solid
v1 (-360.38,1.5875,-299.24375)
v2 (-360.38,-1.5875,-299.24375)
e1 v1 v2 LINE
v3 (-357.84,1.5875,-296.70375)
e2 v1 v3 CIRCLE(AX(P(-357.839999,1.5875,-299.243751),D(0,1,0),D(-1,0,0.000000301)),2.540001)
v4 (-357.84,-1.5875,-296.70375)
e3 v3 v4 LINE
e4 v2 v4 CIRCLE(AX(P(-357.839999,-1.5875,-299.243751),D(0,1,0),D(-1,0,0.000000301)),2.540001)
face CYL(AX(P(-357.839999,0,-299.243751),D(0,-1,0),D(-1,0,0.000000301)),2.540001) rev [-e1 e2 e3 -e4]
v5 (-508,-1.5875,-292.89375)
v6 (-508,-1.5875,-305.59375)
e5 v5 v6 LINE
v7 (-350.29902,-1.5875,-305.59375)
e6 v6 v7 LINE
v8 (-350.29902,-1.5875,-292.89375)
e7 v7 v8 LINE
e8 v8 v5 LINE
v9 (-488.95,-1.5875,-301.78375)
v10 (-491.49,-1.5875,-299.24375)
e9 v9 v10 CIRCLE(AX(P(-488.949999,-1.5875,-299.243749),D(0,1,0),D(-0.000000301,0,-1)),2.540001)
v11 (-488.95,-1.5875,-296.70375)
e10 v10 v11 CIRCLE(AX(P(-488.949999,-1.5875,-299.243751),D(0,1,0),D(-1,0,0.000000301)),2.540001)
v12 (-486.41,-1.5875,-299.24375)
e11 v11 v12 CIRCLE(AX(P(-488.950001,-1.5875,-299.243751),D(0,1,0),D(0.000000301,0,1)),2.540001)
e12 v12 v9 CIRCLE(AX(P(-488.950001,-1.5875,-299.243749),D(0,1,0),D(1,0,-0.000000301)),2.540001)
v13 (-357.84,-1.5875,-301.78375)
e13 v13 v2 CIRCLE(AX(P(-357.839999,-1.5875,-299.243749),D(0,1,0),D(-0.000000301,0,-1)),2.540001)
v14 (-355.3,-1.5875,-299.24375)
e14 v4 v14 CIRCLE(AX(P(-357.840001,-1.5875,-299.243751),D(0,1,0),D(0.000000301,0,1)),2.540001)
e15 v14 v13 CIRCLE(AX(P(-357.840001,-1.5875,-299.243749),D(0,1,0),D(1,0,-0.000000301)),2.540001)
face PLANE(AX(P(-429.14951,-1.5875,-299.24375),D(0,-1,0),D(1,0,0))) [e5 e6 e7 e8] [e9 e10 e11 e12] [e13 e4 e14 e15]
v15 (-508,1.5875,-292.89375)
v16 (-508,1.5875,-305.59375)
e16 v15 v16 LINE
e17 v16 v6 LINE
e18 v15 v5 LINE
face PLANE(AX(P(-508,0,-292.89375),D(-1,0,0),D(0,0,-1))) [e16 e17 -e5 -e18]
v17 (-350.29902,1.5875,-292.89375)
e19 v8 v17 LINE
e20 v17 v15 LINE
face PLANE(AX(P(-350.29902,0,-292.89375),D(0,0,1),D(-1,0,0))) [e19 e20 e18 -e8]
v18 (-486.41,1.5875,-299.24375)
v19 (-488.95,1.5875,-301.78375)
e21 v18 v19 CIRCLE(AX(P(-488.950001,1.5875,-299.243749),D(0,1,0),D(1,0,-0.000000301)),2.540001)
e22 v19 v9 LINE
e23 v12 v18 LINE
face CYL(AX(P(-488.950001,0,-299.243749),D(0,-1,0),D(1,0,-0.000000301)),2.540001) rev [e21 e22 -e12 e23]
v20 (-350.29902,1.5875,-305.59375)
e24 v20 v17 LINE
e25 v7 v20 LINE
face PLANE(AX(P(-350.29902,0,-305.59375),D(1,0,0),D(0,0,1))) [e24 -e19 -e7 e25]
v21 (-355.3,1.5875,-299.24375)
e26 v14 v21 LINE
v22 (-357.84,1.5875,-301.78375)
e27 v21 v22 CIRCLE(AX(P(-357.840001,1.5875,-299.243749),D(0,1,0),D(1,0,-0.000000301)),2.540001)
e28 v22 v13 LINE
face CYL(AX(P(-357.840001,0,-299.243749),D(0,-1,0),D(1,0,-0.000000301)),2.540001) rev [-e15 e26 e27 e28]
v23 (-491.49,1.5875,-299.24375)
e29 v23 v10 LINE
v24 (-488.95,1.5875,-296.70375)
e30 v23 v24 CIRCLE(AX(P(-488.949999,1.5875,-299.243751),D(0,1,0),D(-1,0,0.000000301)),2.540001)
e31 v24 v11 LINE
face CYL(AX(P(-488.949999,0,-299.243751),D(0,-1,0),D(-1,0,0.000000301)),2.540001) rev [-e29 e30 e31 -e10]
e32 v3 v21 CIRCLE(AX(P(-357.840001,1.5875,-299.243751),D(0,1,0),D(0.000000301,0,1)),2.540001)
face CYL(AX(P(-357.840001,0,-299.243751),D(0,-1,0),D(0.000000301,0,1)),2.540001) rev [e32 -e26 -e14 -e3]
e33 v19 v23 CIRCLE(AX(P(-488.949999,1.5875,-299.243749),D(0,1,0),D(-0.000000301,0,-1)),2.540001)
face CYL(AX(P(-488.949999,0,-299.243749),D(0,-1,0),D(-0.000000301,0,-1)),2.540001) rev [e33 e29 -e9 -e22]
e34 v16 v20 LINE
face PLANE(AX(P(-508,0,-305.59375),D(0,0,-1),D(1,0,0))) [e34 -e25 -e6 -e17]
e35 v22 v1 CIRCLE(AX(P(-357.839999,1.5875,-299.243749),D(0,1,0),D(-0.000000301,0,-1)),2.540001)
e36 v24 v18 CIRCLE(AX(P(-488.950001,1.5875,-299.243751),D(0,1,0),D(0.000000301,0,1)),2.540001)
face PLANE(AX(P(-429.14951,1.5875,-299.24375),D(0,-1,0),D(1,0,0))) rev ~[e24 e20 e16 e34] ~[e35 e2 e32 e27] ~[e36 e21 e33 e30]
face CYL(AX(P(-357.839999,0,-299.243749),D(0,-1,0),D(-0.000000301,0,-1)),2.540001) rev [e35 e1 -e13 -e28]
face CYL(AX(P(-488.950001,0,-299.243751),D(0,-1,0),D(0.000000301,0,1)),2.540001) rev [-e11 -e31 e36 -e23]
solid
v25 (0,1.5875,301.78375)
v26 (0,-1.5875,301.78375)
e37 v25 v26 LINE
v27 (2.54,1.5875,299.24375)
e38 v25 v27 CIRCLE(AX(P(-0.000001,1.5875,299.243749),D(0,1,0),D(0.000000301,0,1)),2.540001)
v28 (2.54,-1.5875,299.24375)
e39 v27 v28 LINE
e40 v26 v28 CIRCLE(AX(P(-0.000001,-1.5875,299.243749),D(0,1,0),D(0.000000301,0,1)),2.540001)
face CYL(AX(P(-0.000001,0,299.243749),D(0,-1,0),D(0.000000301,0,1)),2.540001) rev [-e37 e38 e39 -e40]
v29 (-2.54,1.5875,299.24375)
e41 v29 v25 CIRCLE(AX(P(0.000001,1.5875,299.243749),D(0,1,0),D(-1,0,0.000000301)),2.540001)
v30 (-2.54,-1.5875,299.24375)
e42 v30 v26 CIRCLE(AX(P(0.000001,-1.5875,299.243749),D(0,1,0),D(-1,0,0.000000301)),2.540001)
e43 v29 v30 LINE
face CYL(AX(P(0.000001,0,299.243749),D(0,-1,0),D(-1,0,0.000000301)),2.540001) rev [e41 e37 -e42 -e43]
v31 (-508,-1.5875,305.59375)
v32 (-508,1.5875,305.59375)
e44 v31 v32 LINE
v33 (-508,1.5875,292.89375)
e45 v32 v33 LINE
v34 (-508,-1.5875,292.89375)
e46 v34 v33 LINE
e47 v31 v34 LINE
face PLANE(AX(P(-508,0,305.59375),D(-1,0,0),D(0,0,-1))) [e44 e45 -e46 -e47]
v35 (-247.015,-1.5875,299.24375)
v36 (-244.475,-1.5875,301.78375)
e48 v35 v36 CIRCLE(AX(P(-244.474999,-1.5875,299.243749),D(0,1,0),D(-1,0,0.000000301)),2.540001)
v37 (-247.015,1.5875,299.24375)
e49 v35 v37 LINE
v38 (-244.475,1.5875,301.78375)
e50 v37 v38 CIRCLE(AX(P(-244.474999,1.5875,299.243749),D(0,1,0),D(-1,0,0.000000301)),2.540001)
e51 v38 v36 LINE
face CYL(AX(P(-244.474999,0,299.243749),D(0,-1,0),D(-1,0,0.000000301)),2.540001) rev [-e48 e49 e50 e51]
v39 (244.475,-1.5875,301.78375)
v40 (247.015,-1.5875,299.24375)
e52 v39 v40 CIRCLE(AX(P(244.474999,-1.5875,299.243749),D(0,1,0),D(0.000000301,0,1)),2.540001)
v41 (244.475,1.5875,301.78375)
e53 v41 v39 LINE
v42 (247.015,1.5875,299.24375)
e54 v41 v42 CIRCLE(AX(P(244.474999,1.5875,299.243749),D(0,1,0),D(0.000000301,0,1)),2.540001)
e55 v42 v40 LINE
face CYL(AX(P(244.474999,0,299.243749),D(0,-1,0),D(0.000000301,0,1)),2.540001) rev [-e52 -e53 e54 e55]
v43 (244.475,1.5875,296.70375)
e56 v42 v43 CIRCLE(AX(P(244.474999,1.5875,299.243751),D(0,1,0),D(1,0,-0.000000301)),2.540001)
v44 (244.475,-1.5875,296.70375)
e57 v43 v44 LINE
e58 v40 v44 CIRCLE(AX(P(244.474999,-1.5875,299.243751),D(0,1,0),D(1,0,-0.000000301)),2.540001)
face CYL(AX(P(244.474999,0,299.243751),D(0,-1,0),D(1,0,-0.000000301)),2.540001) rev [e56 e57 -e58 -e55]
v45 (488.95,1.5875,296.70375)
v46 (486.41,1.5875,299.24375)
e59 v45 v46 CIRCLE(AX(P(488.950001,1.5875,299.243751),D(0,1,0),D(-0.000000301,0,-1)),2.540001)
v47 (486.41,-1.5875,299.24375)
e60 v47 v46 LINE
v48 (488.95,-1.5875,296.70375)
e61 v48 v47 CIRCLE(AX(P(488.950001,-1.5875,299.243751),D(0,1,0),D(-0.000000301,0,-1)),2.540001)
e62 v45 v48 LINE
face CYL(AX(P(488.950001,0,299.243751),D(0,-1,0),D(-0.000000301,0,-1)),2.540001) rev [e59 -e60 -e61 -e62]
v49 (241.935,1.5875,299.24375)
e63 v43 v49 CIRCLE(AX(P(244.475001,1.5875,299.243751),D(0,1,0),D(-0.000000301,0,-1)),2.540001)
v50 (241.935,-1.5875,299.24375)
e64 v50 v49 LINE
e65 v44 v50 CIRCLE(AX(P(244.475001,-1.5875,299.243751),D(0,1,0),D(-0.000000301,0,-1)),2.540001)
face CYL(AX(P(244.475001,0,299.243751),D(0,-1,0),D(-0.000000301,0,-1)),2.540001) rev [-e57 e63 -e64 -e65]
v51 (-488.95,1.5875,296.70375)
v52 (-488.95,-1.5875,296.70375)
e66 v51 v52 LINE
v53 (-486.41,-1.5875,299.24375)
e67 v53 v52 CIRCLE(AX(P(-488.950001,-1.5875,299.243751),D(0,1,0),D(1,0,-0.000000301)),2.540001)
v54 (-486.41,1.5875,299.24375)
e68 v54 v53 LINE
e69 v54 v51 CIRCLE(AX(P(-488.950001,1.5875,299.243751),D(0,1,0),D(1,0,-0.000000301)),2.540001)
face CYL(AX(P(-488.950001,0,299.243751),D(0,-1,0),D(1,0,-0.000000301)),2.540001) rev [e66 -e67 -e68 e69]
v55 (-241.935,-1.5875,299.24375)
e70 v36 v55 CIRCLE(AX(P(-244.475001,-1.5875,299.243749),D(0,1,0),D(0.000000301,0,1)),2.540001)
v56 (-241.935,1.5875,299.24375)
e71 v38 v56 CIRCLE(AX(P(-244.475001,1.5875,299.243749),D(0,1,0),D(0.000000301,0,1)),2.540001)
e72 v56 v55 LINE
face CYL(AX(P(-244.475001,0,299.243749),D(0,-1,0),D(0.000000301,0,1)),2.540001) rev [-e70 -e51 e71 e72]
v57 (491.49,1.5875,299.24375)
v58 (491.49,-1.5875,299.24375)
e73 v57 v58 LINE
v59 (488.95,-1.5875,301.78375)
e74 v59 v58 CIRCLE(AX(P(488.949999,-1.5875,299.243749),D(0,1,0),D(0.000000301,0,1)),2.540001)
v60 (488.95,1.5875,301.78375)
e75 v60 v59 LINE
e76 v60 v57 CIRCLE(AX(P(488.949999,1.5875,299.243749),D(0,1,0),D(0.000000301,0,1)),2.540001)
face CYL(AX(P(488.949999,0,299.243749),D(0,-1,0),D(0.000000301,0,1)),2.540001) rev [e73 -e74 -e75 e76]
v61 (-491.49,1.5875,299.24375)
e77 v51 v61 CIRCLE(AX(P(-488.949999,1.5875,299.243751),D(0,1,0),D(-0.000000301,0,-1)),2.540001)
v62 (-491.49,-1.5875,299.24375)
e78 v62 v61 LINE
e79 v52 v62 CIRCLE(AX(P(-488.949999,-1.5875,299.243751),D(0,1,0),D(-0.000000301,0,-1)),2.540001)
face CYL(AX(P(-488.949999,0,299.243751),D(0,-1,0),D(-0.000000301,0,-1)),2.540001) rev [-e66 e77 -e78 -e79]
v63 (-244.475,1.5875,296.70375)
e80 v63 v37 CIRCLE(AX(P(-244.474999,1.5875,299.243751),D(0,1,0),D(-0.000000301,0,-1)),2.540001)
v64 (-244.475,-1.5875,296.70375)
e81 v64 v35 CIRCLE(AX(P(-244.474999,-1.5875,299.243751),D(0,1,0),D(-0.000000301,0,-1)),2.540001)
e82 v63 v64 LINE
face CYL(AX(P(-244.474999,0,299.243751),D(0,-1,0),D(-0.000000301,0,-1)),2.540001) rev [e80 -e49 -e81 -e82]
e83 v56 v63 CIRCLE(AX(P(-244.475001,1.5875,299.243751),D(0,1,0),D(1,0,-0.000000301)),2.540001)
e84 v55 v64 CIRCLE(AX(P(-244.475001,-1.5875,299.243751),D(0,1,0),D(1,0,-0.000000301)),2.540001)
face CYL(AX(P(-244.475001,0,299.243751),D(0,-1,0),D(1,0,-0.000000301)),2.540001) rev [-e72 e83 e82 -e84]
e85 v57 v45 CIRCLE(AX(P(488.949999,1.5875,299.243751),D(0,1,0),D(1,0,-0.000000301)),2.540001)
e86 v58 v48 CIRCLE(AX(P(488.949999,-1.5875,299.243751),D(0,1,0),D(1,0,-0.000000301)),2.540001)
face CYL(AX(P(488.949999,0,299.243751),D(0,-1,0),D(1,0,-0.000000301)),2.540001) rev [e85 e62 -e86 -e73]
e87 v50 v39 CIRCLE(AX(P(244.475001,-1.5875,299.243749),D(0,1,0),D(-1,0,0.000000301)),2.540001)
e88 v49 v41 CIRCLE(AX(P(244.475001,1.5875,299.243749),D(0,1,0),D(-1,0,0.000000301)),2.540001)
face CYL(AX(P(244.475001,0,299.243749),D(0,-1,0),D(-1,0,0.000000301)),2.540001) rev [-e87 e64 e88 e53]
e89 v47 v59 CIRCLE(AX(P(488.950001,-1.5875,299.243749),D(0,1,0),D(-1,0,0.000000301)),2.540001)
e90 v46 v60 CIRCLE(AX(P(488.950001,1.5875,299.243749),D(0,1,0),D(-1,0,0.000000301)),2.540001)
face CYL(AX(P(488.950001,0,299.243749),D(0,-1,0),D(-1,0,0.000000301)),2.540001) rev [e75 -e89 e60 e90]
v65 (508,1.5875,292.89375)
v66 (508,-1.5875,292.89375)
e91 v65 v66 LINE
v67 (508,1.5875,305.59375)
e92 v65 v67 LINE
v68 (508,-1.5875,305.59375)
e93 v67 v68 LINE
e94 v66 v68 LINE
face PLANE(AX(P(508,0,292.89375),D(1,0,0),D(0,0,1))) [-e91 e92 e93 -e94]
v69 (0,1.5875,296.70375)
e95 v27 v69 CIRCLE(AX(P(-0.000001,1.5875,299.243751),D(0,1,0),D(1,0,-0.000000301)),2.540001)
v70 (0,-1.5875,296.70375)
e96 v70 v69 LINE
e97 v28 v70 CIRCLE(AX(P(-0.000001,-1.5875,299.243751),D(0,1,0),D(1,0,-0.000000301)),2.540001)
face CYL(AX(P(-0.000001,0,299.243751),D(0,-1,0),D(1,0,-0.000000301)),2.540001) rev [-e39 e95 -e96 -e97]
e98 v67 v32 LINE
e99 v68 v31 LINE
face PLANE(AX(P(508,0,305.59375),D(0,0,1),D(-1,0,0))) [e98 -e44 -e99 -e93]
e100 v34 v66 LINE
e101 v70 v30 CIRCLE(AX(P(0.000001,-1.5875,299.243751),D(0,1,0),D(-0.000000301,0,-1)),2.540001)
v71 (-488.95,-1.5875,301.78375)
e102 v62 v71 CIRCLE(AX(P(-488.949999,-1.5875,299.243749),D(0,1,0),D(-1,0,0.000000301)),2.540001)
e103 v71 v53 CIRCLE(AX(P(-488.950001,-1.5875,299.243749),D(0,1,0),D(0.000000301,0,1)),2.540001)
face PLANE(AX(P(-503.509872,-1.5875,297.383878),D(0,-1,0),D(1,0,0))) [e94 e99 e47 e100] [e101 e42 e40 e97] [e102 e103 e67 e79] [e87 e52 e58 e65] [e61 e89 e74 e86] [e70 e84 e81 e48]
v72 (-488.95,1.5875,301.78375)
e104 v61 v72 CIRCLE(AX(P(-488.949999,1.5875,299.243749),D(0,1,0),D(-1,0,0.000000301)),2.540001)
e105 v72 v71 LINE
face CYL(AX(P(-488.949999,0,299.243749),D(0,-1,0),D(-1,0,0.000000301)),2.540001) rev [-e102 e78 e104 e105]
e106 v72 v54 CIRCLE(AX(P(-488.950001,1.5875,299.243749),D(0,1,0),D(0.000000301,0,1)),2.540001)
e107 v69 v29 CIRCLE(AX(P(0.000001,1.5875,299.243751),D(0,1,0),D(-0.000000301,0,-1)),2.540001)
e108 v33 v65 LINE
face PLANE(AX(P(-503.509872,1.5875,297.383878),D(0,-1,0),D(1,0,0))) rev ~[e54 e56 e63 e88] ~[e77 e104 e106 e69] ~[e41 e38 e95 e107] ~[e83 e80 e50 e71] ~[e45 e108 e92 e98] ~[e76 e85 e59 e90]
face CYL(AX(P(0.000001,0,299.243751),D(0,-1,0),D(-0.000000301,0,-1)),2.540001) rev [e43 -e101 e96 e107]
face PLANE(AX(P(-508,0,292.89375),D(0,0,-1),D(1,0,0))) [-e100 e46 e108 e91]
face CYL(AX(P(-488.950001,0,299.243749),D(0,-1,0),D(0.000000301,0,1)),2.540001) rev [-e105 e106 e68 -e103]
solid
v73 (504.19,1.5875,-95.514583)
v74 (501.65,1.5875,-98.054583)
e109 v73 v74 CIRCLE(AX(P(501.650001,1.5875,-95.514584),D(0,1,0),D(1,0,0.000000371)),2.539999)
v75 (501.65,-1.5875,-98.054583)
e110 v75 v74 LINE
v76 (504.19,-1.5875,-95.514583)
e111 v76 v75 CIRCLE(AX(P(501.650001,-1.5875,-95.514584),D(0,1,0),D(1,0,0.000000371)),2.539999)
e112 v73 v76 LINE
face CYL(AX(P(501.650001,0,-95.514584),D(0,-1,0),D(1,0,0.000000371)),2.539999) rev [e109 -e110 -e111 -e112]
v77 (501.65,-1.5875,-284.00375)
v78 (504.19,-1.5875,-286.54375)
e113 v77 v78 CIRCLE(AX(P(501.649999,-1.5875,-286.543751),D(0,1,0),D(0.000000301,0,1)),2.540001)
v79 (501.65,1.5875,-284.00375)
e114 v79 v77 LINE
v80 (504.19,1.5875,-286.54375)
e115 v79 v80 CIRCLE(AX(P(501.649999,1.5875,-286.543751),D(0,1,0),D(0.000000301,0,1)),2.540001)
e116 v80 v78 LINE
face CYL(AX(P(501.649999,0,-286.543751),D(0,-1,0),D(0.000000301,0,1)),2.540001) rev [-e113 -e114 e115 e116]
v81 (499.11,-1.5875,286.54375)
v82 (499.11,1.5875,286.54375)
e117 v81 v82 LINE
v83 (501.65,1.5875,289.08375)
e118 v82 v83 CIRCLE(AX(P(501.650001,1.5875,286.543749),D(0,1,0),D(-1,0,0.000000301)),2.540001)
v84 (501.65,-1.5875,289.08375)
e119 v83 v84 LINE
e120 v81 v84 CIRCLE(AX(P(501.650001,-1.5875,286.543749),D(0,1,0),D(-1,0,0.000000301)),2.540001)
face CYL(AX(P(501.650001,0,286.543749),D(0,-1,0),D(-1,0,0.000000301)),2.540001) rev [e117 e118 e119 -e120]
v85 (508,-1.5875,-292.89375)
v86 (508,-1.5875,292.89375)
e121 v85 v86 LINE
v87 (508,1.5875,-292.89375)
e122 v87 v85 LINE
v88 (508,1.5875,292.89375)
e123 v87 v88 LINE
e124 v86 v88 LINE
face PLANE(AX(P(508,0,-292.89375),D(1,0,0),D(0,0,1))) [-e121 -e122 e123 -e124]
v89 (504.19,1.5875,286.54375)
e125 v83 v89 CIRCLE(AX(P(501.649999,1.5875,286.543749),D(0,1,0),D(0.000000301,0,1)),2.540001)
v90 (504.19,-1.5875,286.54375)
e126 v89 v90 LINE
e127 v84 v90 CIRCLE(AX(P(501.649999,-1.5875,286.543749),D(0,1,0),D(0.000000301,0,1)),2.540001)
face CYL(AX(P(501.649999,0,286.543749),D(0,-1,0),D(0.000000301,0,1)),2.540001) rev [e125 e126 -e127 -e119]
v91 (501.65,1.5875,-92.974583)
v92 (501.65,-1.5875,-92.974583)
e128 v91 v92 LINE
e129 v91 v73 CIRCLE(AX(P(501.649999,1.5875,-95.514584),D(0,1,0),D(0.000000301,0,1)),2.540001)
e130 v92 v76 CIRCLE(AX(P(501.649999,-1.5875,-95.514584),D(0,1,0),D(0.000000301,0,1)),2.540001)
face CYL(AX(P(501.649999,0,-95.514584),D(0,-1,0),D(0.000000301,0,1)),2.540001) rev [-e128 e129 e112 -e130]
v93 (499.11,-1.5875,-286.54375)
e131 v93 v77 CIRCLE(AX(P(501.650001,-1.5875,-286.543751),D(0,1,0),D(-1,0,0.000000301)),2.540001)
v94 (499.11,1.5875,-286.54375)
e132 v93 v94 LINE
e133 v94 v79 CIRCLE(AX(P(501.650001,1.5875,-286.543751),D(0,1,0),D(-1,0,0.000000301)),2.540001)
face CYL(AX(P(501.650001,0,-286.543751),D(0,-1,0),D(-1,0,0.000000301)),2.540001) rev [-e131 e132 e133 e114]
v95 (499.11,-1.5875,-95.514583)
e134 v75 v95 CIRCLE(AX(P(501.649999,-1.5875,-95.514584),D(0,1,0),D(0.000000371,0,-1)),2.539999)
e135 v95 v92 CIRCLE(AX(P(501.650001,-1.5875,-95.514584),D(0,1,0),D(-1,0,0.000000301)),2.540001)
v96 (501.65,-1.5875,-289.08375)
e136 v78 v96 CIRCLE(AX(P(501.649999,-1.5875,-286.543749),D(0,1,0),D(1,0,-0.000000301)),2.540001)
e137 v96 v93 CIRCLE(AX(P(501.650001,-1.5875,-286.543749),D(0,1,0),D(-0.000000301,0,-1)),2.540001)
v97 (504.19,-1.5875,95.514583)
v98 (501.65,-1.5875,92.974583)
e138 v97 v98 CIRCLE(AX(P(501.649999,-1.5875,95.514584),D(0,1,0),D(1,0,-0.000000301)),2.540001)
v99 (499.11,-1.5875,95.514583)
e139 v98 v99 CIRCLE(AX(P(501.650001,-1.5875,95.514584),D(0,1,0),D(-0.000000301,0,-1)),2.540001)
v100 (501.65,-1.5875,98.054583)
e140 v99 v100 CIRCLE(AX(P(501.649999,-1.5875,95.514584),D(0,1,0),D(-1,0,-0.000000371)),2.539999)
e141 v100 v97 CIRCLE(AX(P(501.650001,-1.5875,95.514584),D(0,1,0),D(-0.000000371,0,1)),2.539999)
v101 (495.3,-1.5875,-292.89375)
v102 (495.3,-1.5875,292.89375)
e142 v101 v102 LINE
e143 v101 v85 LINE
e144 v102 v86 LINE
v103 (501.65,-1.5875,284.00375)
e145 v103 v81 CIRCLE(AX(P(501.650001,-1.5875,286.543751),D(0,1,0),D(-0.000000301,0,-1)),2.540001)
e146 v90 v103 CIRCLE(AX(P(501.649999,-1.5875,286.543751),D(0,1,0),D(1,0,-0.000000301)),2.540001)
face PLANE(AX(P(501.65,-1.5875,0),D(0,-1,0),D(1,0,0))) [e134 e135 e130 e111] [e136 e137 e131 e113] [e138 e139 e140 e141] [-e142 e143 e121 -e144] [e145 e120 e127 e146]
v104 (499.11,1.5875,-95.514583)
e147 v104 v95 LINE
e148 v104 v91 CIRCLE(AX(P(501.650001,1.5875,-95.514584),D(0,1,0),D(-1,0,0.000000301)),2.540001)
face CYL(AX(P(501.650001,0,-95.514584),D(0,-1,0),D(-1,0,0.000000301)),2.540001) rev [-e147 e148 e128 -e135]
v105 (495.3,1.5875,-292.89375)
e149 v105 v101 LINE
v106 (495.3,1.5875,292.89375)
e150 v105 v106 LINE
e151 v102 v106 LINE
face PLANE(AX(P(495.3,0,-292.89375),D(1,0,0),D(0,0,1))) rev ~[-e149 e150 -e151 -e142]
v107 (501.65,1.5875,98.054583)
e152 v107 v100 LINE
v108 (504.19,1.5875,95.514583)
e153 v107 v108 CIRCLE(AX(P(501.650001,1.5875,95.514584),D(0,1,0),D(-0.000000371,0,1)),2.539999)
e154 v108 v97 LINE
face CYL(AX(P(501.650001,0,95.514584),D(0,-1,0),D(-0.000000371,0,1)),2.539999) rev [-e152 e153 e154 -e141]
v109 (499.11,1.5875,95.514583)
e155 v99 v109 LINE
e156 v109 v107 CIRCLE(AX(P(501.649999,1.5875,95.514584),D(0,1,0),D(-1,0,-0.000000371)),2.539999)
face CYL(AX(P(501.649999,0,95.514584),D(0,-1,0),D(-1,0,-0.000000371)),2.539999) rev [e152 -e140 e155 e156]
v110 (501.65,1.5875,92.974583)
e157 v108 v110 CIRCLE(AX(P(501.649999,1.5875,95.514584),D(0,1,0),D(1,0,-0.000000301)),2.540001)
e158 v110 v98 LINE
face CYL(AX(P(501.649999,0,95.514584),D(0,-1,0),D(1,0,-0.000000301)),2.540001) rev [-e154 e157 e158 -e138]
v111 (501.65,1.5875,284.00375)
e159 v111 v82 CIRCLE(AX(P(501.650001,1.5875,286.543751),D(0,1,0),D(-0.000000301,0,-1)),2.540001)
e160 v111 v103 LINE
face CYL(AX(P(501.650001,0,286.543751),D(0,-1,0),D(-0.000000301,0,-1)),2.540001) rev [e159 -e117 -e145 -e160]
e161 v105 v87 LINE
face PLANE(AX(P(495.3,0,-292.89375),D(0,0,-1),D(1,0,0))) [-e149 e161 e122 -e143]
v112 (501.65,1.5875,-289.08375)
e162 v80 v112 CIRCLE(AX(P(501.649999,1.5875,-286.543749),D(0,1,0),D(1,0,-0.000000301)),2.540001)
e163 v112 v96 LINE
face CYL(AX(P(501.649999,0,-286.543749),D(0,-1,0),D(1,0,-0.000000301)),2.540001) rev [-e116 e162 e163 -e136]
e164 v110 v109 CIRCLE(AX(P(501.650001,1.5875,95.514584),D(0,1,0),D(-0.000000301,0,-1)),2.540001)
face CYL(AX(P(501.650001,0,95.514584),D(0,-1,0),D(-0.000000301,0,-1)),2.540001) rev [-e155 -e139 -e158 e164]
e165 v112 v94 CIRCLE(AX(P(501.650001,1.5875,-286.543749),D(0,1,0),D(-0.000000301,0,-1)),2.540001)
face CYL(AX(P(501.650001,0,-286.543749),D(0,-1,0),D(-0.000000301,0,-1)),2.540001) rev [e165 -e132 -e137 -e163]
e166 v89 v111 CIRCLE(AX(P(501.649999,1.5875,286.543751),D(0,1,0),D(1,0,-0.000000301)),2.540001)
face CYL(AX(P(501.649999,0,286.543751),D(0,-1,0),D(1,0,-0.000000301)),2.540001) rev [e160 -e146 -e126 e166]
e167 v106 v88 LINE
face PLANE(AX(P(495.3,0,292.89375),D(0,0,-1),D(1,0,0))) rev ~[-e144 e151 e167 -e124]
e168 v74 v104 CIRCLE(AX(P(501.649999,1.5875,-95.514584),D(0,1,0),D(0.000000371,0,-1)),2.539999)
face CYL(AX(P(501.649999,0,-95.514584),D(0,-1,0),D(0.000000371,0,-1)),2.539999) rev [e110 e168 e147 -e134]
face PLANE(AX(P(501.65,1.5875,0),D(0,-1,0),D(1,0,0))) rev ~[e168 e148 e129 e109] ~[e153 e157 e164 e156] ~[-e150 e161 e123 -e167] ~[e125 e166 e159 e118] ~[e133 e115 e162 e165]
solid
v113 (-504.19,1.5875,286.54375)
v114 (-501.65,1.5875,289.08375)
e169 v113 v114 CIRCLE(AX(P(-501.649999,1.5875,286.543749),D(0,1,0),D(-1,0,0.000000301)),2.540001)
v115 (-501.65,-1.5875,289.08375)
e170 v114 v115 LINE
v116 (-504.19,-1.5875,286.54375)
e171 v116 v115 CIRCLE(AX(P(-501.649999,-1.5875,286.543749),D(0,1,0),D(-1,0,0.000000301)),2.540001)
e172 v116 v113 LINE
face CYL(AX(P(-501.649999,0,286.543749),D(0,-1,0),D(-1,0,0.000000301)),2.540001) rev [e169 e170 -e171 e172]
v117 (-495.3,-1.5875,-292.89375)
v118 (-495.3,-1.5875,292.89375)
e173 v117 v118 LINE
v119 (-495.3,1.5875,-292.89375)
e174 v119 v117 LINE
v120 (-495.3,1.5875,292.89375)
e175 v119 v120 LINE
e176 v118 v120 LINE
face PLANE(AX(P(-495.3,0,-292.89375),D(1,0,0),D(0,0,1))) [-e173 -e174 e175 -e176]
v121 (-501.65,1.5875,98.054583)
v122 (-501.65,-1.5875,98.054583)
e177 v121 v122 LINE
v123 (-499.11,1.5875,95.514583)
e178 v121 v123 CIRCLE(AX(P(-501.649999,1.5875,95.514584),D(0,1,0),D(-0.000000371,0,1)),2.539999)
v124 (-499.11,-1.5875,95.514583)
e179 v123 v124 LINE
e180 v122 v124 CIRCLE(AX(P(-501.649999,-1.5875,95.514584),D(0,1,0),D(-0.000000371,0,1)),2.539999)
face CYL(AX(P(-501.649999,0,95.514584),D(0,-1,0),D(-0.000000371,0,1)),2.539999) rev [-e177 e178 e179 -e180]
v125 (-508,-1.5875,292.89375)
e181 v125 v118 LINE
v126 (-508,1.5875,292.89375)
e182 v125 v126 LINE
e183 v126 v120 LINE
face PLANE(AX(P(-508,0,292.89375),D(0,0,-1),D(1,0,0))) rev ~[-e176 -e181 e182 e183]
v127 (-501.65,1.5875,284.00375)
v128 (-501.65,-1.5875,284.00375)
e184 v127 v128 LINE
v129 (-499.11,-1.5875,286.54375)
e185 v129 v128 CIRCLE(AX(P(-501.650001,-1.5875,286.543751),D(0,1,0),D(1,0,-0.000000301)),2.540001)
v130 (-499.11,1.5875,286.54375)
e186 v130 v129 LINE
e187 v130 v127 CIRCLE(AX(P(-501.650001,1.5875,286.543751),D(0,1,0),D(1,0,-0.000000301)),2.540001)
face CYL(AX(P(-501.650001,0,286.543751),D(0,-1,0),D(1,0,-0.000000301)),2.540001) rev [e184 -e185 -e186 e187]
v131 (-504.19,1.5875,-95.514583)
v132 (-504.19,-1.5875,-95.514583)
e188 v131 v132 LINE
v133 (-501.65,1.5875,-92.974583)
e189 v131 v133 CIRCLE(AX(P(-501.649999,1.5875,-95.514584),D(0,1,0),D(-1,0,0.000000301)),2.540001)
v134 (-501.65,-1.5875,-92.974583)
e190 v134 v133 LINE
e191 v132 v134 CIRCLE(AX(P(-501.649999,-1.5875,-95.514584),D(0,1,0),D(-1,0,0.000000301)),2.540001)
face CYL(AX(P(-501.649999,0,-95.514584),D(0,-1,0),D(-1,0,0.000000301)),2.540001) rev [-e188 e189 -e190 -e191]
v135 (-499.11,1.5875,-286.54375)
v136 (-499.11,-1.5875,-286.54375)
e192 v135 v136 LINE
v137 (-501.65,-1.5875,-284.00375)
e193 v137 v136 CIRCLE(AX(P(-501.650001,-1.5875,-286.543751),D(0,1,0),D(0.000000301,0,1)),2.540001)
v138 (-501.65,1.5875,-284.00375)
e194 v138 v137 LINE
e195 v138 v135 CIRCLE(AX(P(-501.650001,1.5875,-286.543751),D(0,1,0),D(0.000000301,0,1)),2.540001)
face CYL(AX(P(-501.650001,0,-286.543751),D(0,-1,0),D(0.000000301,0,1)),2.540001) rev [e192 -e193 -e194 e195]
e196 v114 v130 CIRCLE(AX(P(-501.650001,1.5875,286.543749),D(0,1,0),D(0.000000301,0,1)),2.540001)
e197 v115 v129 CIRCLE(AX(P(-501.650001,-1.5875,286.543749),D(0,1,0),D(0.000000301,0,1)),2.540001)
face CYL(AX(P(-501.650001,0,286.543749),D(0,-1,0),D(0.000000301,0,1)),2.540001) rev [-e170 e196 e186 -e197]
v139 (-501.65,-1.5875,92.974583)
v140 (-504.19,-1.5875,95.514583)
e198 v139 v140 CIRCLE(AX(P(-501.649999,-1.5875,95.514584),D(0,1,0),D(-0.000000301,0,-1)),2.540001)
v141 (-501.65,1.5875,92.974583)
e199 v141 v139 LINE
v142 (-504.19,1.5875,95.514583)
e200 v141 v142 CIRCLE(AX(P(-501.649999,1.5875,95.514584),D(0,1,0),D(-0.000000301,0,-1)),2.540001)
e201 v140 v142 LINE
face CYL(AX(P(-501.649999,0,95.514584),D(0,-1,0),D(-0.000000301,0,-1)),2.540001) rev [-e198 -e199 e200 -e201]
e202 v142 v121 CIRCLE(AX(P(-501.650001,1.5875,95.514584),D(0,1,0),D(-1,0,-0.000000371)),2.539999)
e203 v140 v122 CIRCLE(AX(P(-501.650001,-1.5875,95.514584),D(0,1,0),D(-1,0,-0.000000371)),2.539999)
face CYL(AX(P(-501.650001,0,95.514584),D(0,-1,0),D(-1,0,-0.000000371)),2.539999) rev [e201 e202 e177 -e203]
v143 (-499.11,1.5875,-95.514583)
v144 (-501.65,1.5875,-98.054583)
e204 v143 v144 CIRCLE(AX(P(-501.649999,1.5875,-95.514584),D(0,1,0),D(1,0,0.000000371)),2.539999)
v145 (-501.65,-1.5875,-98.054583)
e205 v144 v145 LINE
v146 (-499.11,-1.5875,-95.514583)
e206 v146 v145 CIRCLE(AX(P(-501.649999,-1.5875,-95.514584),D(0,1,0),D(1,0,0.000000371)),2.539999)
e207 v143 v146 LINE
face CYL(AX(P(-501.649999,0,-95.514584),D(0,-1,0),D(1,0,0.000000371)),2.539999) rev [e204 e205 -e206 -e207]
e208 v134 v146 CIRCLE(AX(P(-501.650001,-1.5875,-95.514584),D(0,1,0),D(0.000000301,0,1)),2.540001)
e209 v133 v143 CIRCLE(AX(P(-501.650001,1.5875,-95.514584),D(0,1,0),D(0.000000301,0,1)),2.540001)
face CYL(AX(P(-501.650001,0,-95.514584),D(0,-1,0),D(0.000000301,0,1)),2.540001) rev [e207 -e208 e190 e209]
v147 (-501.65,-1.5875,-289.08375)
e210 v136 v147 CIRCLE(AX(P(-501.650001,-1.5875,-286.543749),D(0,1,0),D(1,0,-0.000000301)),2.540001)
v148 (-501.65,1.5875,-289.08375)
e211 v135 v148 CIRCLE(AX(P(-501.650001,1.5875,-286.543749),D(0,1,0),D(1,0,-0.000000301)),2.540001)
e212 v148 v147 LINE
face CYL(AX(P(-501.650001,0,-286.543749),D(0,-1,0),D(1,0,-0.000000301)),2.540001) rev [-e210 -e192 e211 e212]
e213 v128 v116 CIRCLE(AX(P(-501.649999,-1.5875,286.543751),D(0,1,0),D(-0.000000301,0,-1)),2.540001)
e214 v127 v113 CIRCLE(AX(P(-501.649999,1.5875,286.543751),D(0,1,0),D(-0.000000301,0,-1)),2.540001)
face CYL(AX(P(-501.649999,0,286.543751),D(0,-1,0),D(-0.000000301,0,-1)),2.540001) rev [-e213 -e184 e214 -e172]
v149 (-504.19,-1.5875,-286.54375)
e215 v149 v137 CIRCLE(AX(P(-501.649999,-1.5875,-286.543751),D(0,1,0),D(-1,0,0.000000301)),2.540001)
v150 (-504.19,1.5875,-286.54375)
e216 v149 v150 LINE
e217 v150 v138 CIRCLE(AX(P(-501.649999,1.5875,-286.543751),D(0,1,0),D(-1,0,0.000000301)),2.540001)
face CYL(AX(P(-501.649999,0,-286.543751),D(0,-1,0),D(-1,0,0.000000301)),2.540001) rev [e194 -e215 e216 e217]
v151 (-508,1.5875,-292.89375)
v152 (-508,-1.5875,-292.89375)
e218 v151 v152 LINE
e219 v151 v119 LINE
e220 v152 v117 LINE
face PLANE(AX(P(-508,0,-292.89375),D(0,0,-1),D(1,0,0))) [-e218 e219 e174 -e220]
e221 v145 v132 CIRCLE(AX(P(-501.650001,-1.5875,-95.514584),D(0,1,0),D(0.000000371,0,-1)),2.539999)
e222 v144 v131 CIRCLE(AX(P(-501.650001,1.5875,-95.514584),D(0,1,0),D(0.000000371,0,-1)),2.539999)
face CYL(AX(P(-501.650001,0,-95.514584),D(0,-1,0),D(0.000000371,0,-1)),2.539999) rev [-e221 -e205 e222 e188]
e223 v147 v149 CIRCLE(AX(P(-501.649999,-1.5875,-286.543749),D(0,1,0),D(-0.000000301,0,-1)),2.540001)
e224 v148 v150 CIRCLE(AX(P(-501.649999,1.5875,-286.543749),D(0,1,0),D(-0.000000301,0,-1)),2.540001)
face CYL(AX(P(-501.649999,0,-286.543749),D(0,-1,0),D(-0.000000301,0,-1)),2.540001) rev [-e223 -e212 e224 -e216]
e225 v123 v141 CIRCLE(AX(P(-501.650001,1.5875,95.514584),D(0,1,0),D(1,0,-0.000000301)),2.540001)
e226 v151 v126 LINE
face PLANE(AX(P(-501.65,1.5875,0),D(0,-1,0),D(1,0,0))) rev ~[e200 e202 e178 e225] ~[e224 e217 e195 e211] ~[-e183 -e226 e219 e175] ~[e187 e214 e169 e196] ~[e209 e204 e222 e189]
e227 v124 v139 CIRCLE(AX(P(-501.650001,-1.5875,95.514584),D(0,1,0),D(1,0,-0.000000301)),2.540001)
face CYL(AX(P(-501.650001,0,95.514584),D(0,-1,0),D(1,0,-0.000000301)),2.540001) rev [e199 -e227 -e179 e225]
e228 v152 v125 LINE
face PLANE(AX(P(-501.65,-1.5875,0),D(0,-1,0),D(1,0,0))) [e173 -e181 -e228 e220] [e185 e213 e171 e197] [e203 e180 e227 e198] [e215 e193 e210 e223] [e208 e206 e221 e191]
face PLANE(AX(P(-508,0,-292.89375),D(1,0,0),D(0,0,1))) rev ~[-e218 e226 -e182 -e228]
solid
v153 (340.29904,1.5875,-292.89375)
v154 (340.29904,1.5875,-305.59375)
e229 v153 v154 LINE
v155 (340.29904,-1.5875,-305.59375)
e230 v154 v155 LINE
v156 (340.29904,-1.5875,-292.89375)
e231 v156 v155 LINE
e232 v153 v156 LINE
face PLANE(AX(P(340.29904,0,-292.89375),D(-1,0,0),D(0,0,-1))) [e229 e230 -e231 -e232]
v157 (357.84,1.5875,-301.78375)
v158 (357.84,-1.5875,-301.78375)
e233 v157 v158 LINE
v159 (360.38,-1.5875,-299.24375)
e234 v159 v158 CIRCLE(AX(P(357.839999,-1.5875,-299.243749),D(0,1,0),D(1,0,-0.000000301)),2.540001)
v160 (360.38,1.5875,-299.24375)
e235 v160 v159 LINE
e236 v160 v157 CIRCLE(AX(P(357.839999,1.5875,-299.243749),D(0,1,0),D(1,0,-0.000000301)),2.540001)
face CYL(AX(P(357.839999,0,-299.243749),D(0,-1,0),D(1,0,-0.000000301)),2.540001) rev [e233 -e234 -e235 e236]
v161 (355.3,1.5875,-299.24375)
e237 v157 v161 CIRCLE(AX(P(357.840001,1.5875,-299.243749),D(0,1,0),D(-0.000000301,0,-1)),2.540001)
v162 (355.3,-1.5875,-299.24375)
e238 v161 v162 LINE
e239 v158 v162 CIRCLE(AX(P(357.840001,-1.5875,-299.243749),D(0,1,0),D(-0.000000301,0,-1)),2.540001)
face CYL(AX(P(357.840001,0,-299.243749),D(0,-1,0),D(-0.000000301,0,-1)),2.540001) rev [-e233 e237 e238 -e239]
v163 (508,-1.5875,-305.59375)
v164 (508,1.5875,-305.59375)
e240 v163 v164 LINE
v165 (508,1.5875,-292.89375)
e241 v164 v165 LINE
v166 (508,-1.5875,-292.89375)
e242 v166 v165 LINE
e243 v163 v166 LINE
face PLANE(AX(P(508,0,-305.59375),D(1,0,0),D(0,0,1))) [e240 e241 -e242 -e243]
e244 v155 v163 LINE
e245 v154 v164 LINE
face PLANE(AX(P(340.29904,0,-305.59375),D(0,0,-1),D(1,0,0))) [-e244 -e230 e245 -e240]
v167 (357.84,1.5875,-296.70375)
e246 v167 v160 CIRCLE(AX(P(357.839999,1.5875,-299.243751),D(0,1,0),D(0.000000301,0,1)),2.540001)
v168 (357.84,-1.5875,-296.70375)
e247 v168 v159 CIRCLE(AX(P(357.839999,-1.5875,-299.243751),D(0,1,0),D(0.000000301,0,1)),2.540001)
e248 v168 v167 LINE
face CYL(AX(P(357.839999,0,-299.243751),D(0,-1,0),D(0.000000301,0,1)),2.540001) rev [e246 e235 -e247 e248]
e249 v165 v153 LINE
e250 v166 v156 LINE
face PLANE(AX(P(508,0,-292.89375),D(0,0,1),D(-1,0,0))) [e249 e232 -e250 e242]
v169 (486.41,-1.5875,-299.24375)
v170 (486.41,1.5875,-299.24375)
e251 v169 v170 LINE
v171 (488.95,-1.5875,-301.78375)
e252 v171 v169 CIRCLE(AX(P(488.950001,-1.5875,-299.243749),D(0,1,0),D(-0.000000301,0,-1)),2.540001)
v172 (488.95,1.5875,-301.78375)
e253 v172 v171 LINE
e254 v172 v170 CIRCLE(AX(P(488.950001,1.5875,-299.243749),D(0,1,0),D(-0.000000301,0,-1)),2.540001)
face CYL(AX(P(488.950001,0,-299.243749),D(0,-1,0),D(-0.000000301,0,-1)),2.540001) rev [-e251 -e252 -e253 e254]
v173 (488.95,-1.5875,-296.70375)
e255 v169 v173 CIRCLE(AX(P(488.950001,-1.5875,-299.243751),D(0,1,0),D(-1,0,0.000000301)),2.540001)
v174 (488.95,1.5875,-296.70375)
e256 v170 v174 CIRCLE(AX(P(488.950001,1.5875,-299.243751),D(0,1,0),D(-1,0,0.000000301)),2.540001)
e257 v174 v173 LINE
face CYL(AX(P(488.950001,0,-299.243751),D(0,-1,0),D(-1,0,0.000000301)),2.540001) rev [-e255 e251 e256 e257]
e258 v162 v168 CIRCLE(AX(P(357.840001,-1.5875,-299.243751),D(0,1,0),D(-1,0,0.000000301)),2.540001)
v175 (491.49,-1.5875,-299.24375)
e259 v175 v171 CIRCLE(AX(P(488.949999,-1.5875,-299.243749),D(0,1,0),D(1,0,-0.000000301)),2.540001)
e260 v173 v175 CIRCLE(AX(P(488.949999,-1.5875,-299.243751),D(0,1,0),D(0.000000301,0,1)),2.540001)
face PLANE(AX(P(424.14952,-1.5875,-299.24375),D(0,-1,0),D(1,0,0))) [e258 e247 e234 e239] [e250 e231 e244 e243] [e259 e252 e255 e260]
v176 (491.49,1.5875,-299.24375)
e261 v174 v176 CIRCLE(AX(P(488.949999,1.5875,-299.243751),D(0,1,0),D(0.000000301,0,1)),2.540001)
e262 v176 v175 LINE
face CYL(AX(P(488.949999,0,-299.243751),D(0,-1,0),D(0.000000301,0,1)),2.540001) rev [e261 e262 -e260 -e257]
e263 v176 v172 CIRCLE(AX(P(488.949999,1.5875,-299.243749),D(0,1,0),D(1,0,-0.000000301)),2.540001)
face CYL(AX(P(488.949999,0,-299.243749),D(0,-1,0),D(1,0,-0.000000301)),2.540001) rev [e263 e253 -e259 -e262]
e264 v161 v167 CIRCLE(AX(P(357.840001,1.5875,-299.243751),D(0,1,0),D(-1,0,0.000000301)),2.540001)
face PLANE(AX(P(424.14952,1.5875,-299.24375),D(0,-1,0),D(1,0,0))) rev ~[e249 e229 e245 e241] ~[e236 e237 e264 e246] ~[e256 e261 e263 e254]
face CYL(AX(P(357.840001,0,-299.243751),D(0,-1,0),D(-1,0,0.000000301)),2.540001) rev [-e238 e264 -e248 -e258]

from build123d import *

# Parameters (mm, degrees)
F1_DEPTH = 1.5875
F0_W     = 12.7
F0_H     = 585.7875
F2_DEPTH = 1.5875
F0_R     = 5.969
F3_DEPTH = 1.5875
F4_DEPTH = 1.5875
F5_DEPTH = 1.5875


with BuildPart() as f1:
    # F0 (on Front) → F1 (new body, symmetric)
    with BuildSketch(Plane.XZ):
        Polygon((-350.29902, -292.89375), (-495.3, -292.89375), (-508, -292.89375), (-508, -305.59375), (-350.29902, -305.59375), align=None)
        Polygon((-486.41, -299.24375), (-486.41, -301.78375), (-488.95, -301.78375), (-491.49, -301.78375), (-491.49, -299.24375), (-491.49, -296.70375), (-488.95, -296.70375), (-486.41, -296.70375), align=None, mode=Mode.SUBTRACT)
        Polygon((-357.84, -296.70375), (-355.3, -296.70375), (-355.3, -299.24375), (-355.3, -301.78375), (-357.84, -301.78375), (-360.38, -301.78375), (-360.38, -299.24375), (-360.38, -296.70375), align=None, mode=Mode.SUBTRACT)
        with BuildLine():
            ThreePointArc((-360.38, -299.24375), (-359.636051, -297.447699), (-357.84, -296.70375))
            Line((-357.84, -296.70375), (-360.38, -296.70375))
            Line((-360.38, -296.70375), (-360.38, -299.24375))
        make_face()
        with BuildLine():
            ThreePointArc((-357.84, -301.78375), (-359.636051, -301.039801), (-360.38, -299.24375))
            Line((-360.38, -299.24375), (-360.38, -301.78375))
            Line((-360.38, -301.78375), (-357.84, -301.78375))
        make_face()
        with BuildLine():
            Line((-355.3, -301.78375), (-355.3, -299.24375))
            ThreePointArc((-355.3, -299.24375), (-356.043949, -301.039801), (-357.84, -301.78375))
            Line((-357.84, -301.78375), (-355.3, -301.78375))
        make_face()
        with BuildLine():
            Line((-355.3, -299.24375), (-355.3, -296.70375))
            Line((-355.3, -296.70375), (-357.84, -296.70375))
            ThreePointArc((-357.84, -296.70375), (-356.043949, -297.447699), (-355.3, -299.24375))
        make_face()
        with BuildLine():
            Line((-491.49, -296.70375), (-491.49, -299.24375))
            ThreePointArc((-491.49, -299.24375), (-490.746051, -297.447699), (-488.95, -296.70375))
            Line((-488.95, -296.70375), (-491.49, -296.70375))
        make_face()
        with BuildLine():
            Line((-491.49, -301.78375), (-488.95, -301.78375))
            ThreePointArc((-488.95, -301.78375), (-490.746051, -301.039801), (-491.49, -299.24375))
            Line((-491.49, -299.24375), (-491.49, -301.78375))
        make_face()
        with BuildLine():
            Line((-488.95, -301.78375), (-486.41, -301.78375))
            Line((-486.41, -301.78375), (-486.41, -299.24375))
            ThreePointArc((-486.41, -299.24375), (-487.153949, -301.039801), (-488.95, -301.78375))
        make_face()
        with BuildLine():
            ThreePointArc((-488.95, -296.70375), (-487.153949, -297.447699), (-486.41, -299.24375))
            Line((-486.41, -299.24375), (-486.41, -296.70375))
            Line((-486.41, -296.70375), (-488.95, -296.70375))
        make_face()
    extrude(amount=F1_DEPTH, both=True)


with BuildPart() as f2:
    # F0 (on Front) → F2 (new body, symmetric)
    with BuildSketch(Plane.XZ):
        with Locations((-501.65, 0)):
            Rectangle(F0_W, F0_H)
        Polygon((-504.19, -284.00375), (-501.65, -284.00375), (-499.11, -284.00375), (-499.11, -286.54375), (-499.11, -289.08375), (-501.65, -289.08375), (-504.19, -289.08375), (-504.19, -286.54375), align=None, mode=Mode.SUBTRACT)
        Polygon((-504.19, -92.974583), (-501.65, -92.974583), (-499.11, -92.974583), (-499.11, -95.514583), (-499.11, -98.054583), (-501.65, -98.054583), (-504.19, -98.054583), (-504.19, -95.514583), align=None, mode=Mode.SUBTRACT)
        Polygon((-504.19, 98.054583), (-501.65, 98.054583), (-499.11, 98.054583), (-499.11, 95.514583), (-499.11, 92.974583), (-501.65, 92.974583), (-504.19, 92.974583), (-504.19, 95.514583), align=None, mode=Mode.SUBTRACT)
        Polygon((-501.65, 284.00375), (-504.19, 284.00375), (-504.19, 286.54375), (-504.19, 289.08375), (-501.65, 289.08375), (-499.11, 289.08375), (-499.11, 286.54375), (-499.11, 284.00375), align=None, mode=Mode.SUBTRACT)
        with BuildLine():
            Line((-499.11, -284.00375), (-501.65, -284.00375))
            ThreePointArc((-501.65, -284.00375), (-499.853949, -284.747699), (-499.11, -286.54375))
            Line((-499.11, -286.54375), (-499.11, -284.00375))
        make_face()
        with BuildLine():
            ThreePointArc((-504.19, -286.54375), (-503.446051, -284.747699), (-501.65, -284.00375))
            Line((-501.65, -284.00375), (-504.19, -284.00375))
            Line((-504.19, -284.00375), (-504.19, -286.54375))
        make_face()
        with BuildLine():
            ThreePointArc((-501.65, -289.08375), (-503.446051, -288.339801), (-504.19, -286.54375))
            Line((-504.19, -286.54375), (-504.19, -289.08375))
            Line((-504.19, -289.08375), (-501.65, -289.08375))
        make_face()
        with BuildLine():
            Line((-499.11, -289.08375), (-499.11, -286.54375))
            ThreePointArc((-499.11, -286.54375), (-499.853949, -288.339801), (-501.65, -289.08375))
            Line((-501.65, -289.08375), (-499.11, -289.08375))
        make_face()
        with BuildLine():
            ThreePointArc((-501.65, -98.054583), (-503.446051, -97.310635), (-504.19, -95.514583))
            Line((-504.19, -95.514583), (-504.19, -98.054583))
            Line((-504.19, -98.054583), (-501.65, -98.054583))
        make_face()
        with BuildLine():
            Line((-499.11, -98.054583), (-499.11, -95.514583))
            ThreePointArc((-499.11, -95.514583), (-499.853949, -97.310635), (-501.65, -98.054583))
            Line((-501.65, -98.054583), (-499.11, -98.054583))
        make_face()
        with BuildLine():
            Line((-499.11, -92.974583), (-501.65, -92.974583))
            ThreePointArc((-501.65, -92.974583), (-499.853949, -93.718532), (-499.11, -95.514583))
            Line((-499.11, -95.514583), (-499.11, -92.974583))
        make_face()
        with BuildLine():
            ThreePointArc((-504.19, -95.514583), (-503.446051, -93.718532), (-501.65, -92.974583))
            Line((-501.65, -92.974583), (-504.19, -92.974583))
            Line((-504.19, -92.974583), (-504.19, -95.514583))
        make_face()
        with BuildLine():
            ThreePointArc((-504.19, 95.514583), (-503.446051, 97.310635), (-501.65, 98.054583))
            Line((-501.65, 98.054583), (-504.19, 98.054583))
            Line((-504.19, 98.054583), (-504.19, 95.514583))
        make_face()
        with BuildLine():
            Line((-499.11, 98.054583), (-501.65, 98.054583))
            ThreePointArc((-501.65, 98.054583), (-499.853949, 97.310635), (-499.11, 95.514583))
            Line((-499.11, 95.514583), (-499.11, 98.054583))
        make_face()
        with BuildLine():
            Line((-499.11, 92.974583), (-499.11, 95.514583))
            ThreePointArc((-499.11, 95.514583), (-499.853949, 93.718532), (-501.65, 92.974583))
            Line((-501.65, 92.974583), (-499.11, 92.974583))
        make_face()
        with BuildLine():
            ThreePointArc((-501.65, 92.974583), (-503.446051, 93.718532), (-504.19, 95.514583))
            Line((-504.19, 95.514583), (-504.19, 92.974583))
            Line((-504.19, 92.974583), (-501.65, 92.974583))
        make_face()
        with BuildLine():
            Line((-504.19, 289.08375), (-504.19, 286.54375))
            ThreePointArc((-504.19, 286.54375), (-503.446051, 288.339801), (-501.65, 289.08375))
            Line((-501.65, 289.08375), (-504.19, 289.08375))
        make_face()
        with BuildLine():
            Line((-499.11, 289.08375), (-501.65, 289.08375))
            ThreePointArc((-501.65, 289.08375), (-499.853949, 288.339801), (-499.11, 286.54375))
            Line((-499.11, 286.54375), (-499.11, 289.08375))
        make_face()
        with BuildLine():
            ThreePointArc((-499.11, 286.54375), (-499.853949, 284.747699), (-501.65, 284.00375))
            Line((-501.65, 284.00375), (-499.11, 284.00375))
            Line((-499.11, 284.00375), (-499.11, 286.54375))
        make_face()
        with BuildLine():
            Line((-504.19, 286.54375), (-504.19, 284.00375))
            Line((-504.19, 284.00375), (-501.65, 284.00375))
            ThreePointArc((-501.65, 284.00375), (-503.446051, 284.747699), (-504.19, 286.54375))
        make_face()
    extrude(amount=F2_DEPTH, both=True)


with BuildPart() as f3:
    # F0 (on Front) → F3 (new body, symmetric)
    with BuildSketch(Plane.XZ):
        Polygon((-508, 292.89375), (-495.3, 292.89375), (-508, 305.59375), align=None)
        Polygon((-495.3, 292.89375), (495.3, 292.89375), (508, 292.89375), (508, 305.59375), (-508, 305.59375), align=None)
        with Locations((-488.95, 299.24375)):
            Circle(F0_R, mode=Mode.SUBTRACT)
        Polygon((-244.475, 301.78375), (-241.935, 301.78375), (-241.935, 299.24375), (-241.935, 296.70375), (-244.475, 296.70375), (-247.015, 296.70375), (-247.015, 299.24375), (-247.015, 301.78375), align=None, mode=Mode.SUBTRACT)
        Polygon((0, 301.78375), (2.54, 301.78375), (2.54, 299.24375), (2.54, 296.70375), (0, 296.70375), (-2.54, 296.70375), (-2.54, 299.24375), (-2.54, 301.78375), align=None, mode=Mode.SUBTRACT)
        Polygon((244.475, 296.70375), (241.935, 296.70375), (241.935, 299.24375), (241.935, 301.78375), (244.475, 301.78375), (247.015, 301.78375), (247.015, 299.24375), (247.015, 296.70375), align=None, mode=Mode.SUBTRACT)
        Polygon((486.41, 299.24375), (486.41, 301.78375), (488.95, 301.78375), (491.49, 301.78375), (491.49, 299.24375), (491.49, 296.70375), (488.95, 296.70375), (486.41, 296.70375), align=None, mode=Mode.SUBTRACT)
        with Locations((-488.95, 299.24375)):
            Circle(F0_R)
        Polygon((-486.41, 299.24375), (-486.41, 296.70375), (-488.95, 296.70375), (-491.49, 296.70375), (-491.49, 299.24375), (-491.49, 301.78375), (-488.95, 301.78375), (-486.41, 301.78375), align=None, mode=Mode.SUBTRACT)
        with BuildLine():
            ThreePointArc((-488.95, 301.78375), (-487.153949, 301.039801), (-486.41, 299.24375))
            Line((-486.41, 299.24375), (-486.41, 301.78375))
            Line((-486.41, 301.78375), (-488.95, 301.78375))
        make_face()
        with BuildLine():
            Line((-488.95, 296.70375), (-486.41, 296.70375))
            Line((-486.41, 296.70375), (-486.41, 299.24375))
            ThreePointArc((-486.41, 299.24375), (-487.153949, 297.447699), (-488.95, 296.70375))
        make_face()
        with BuildLine():
            Line((-491.49, 301.78375), (-491.49, 299.24375))
            ThreePointArc((-491.49, 299.24375), (-490.746051, 301.039801), (-488.95, 301.78375))
            Line((-488.95, 301.78375), (-491.49, 301.78375))
        make_face()
        with BuildLine():
            Line((-491.49, 296.70375), (-488.95, 296.70375))
            ThreePointArc((-488.95, 296.70375), (-490.746051, 297.447699), (-491.49, 299.24375))
            Line((-491.49, 299.24375), (-491.49, 296.70375))
        make_face()
        with BuildLine():
            ThreePointArc((-247.015, 299.24375), (-246.271051, 301.039801), (-244.475, 301.78375))
            Line((-244.475, 301.78375), (-247.015, 301.78375))
            Line((-247.015, 301.78375), (-247.015, 299.24375))
        make_face()
        with BuildLine():
            Line((-241.935, 299.24375), (-241.935, 301.78375))
            Line((-241.935, 301.78375), (-244.475, 301.78375))
            ThreePointArc((-244.475, 301.78375), (-242.678949, 301.039801), (-241.935, 299.24375))
        make_face()
        with BuildLine():
            Line((-241.935, 296.70375), (-241.935, 299.24375))
            ThreePointArc((-241.935, 299.24375), (-242.678949, 297.447699), (-244.475, 296.70375))
            Line((-244.475, 296.70375), (-241.935, 296.70375))
        make_face()
        with BuildLine():
            ThreePointArc((-244.475, 296.70375), (-246.271051, 297.447699), (-247.015, 299.24375))
            Line((-247.015, 299.24375), (-247.015, 296.70375))
            Line((-247.015, 296.70375), (-244.475, 296.70375))
        make_face()
        with BuildLine():
            ThreePointArc((-2.54, 299.24375), (-1.796051, 301.039801), (0, 301.78375))
            Line((0, 301.78375), (-2.54, 301.78375))
            Line((-2.54, 301.78375), (-2.54, 299.24375))
        make_face()
        with BuildLine():
            Line((2.54, 299.24375), (2.54, 301.78375))
            Line((2.54, 301.78375), (0, 301.78375))
            ThreePointArc((0, 301.78375), (1.796051, 301.039801), (2.54, 299.24375))
        make_face()
        with BuildLine():
            ThreePointArc((0, 296.70375), (-1.796051, 297.447699), (-2.54, 299.24375))
            Line((-2.54, 299.24375), (-2.54, 296.70375))
            Line((-2.54, 296.70375), (0, 296.70375))
        make_face()
        with BuildLine():
            Line((2.54, 296.70375), (2.54, 299.24375))
            ThreePointArc((2.54, 299.24375), (1.796051, 297.447699), (0, 296.70375))
            Line((0, 296.70375), (2.54, 296.70375))
        make_face()
        with BuildLine():
            Line((241.935, 301.78375), (241.935, 299.24375))
            ThreePointArc((241.935, 299.24375), (242.678949, 301.039801), (244.475, 301.78375))
            Line((244.475, 301.78375), (241.935, 301.78375))
        make_face()
        with BuildLine():
            ThreePointArc((244.475, 301.78375), (246.271051, 301.039801), (247.015, 299.24375))
            Line((247.015, 299.24375), (247.015, 301.78375))
            Line((247.015, 301.78375), (244.475, 301.78375))
        make_face()
        with BuildLine():
            ThreePointArc((247.015, 299.24375), (246.271051, 297.447699), (244.475, 296.70375))
            Line((244.475, 296.70375), (247.015, 296.70375))
            Line((247.015, 296.70375), (247.015, 299.24375))
        make_face()
        with BuildLine():
            Line((241.935, 299.24375), (241.935, 296.70375))
            Line((241.935, 296.70375), (244.475, 296.70375))
            ThreePointArc((244.475, 296.70375), (242.678949, 297.447699), (241.935, 299.24375))
        make_face()
        with BuildLine():
            Line((488.95, 301.78375), (486.41, 301.78375))
            Line((486.41, 301.78375), (486.41, 299.24375))
            ThreePointArc((486.41, 299.24375), (487.153949, 301.039801), (488.95, 301.78375))
        make_face()
        with BuildLine():
            Line((491.49, 301.78375), (488.95, 301.78375))
            ThreePointArc((488.95, 301.78375), (490.746051, 301.039801), (491.49, 299.24375))
            Line((491.49, 299.24375), (491.49, 301.78375))
        make_face()
        with BuildLine():
            Line((491.49, 296.70375), (491.49, 299.24375))
            ThreePointArc((491.49, 299.24375), (490.746051, 297.447699), (488.95, 296.70375))
            Line((488.95, 296.70375), (491.49, 296.70375))
        make_face()
        with BuildLine():
            ThreePointArc((488.95, 296.70375), (487.153949, 297.447699), (486.41, 299.24375))
            Line((486.41, 299.24375), (486.41, 296.70375))
            Line((486.41, 296.70375), (488.95, 296.70375))
        make_face()
    extrude(amount=F3_DEPTH, both=True)


with BuildPart() as f4:
    # F0 (on Front) → F4 (new body, symmetric)
    with BuildSketch(Plane.XZ):
        with Locations((501.65, 0)):
            Rectangle(F0_W, F0_H)
        Polygon((501.65, -289.08375), (499.11, -289.08375), (499.11, -286.54375), (499.11, -284.00375), (501.65, -284.00375), (504.19, -284.00375), (504.19, -286.54375), (504.19, -289.08375), align=None, mode=Mode.SUBTRACT)
        Polygon((501.65, -98.054583), (499.11, -98.054583), (499.11, -95.514583), (499.11, -92.974583), (501.65, -92.974583), (504.19, -92.974583), (504.19, -95.514583), (504.19, -98.054583), align=None, mode=Mode.SUBTRACT)
        Polygon((504.19, 95.514583), (504.19, 92.974583), (501.65, 92.974583), (499.11, 92.974583), (499.11, 95.514583), (499.11, 98.054583), (501.65, 98.054583), (504.19, 98.054583), align=None, mode=Mode.SUBTRACT)
        Polygon((501.65, 284.00375), (499.11, 284.00375), (499.11, 286.54375), (499.11, 289.08375), (501.65, 289.08375), (504.19, 289.08375), (504.19, 286.54375), (504.19, 284.00375), align=None, mode=Mode.SUBTRACT)
        with BuildLine():
            Line((499.11, 289.08375), (499.11, 286.54375))
            ThreePointArc((499.11, 286.54375), (499.853949, 288.339801), (501.65, 289.08375))
            Line((501.65, 289.08375), (499.11, 289.08375))
        make_face()
        with BuildLine():
            Line((504.19, 289.08375), (501.65, 289.08375))
            ThreePointArc((501.65, 289.08375), (503.446051, 288.339801), (504.19, 286.54375))
            Line((504.19, 286.54375), (504.19, 289.08375))
        make_face()
        with BuildLine():
            ThreePointArc((504.19, 286.54375), (503.446051, 284.747699), (501.65, 284.00375))
            Line((501.65, 284.00375), (504.19, 284.00375))
            Line((504.19, 284.00375), (504.19, 286.54375))
        make_face()
        with BuildLine():
            Line((499.11, 286.54375), (499.11, 284.00375))
            Line((499.11, 284.00375), (501.65, 284.00375))
            ThreePointArc((501.65, 284.00375), (499.853949, 284.747699), (499.11, 286.54375))
        make_face()
        with BuildLine():
            Line((499.11, 98.054583), (499.11, 95.514583))
            ThreePointArc((499.11, 95.514583), (499.853949, 97.310635), (501.65, 98.054583))
            Line((501.65, 98.054583), (499.11, 98.054583))
        make_face()
        with BuildLine():
            ThreePointArc((501.65, 98.054583), (503.446051, 97.310635), (504.19, 95.514583))
            Line((504.19, 95.514583), (504.19, 98.054583))
            Line((504.19, 98.054583), (501.65, 98.054583))
        make_face()
        with BuildLine():
            Line((501.65, 92.974583), (504.19, 92.974583))
            Line((504.19, 92.974583), (504.19, 95.514583))
            ThreePointArc((504.19, 95.514583), (503.446051, 93.718532), (501.65, 92.974583))
        make_face()
        with BuildLine():
            Line((499.11, 92.974583), (501.65, 92.974583))
            ThreePointArc((501.65, 92.974583), (499.853949, 93.718532), (499.11, 95.514583))
            Line((499.11, 95.514583), (499.11, 92.974583))
        make_face()
        with BuildLine():
            ThreePointArc((501.65, -92.974583), (503.446051, -93.718532), (504.19, -95.514583))
            Line((504.19, -95.514583), (504.19, -92.974583))
            Line((504.19, -92.974583), (501.65, -92.974583))
        make_face()
        with BuildLine():
            Line((499.11, -92.974583), (499.11, -95.514583))
            ThreePointArc((499.11, -95.514583), (499.853949, -93.718532), (501.65, -92.974583))
            Line((501.65, -92.974583), (499.11, -92.974583))
        make_face()
        with BuildLine():
            Line((499.11, -95.514583), (499.11, -98.054583))
            Line((499.11, -98.054583), (501.65, -98.054583))
            ThreePointArc((501.65, -98.054583), (499.853949, -97.310635), (499.11, -95.514583))
        make_face()
        with BuildLine():
            ThreePointArc((504.19, -95.514583), (503.446051, -97.310635), (501.65, -98.054583))
            Line((501.65, -98.054583), (504.19, -98.054583))
            Line((504.19, -98.054583), (504.19, -95.514583))
        make_face()
        with BuildLine():
            Line((499.11, -284.00375), (499.11, -286.54375))
            ThreePointArc((499.11, -286.54375), (499.853949, -284.747699), (501.65, -284.00375))
            Line((501.65, -284.00375), (499.11, -284.00375))
        make_face()
        with BuildLine():
            ThreePointArc((501.65, -284.00375), (503.446051, -284.747699), (504.19, -286.54375))
            Line((504.19, -286.54375), (504.19, -284.00375))
            Line((504.19, -284.00375), (501.65, -284.00375))
        make_face()
        with BuildLine():
            ThreePointArc((504.19, -286.54375), (503.446051, -288.339801), (501.65, -289.08375))
            Line((501.65, -289.08375), (504.19, -289.08375))
            Line((504.19, -289.08375), (504.19, -286.54375))
        make_face()
        with BuildLine():
            Line((499.11, -286.54375), (499.11, -289.08375))
            Line((499.11, -289.08375), (501.65, -289.08375))
            ThreePointArc((501.65, -289.08375), (499.853949, -288.339801), (499.11, -286.54375))
        make_face()
    extrude(amount=F4_DEPTH, both=True)


with BuildPart() as f5:
    # F0 (on Front) → F5 (new body, symmetric)
    with BuildSketch(Plane.XZ):
        Polygon((508, -292.89375), (495.3, -292.89375), (340.29904, -292.89375), (340.29904, -305.59375), (508, -305.59375), align=None)
        Polygon((357.84, -296.70375), (360.38, -296.70375), (360.38, -299.24375), (360.38, -301.78375), (357.84, -301.78375), (355.3, -301.78375), (355.3, -299.24375), (355.3, -296.70375), align=None, mode=Mode.SUBTRACT)
        Polygon((486.41, -299.24375), (486.41, -296.70375), (488.95, -296.70375), (491.49, -296.70375), (491.49, -299.24375), (491.49, -301.78375), (488.95, -301.78375), (486.41, -301.78375), align=None, mode=Mode.SUBTRACT)
        with BuildLine():
            Line((360.38, -299.24375), (360.38, -296.70375))
            Line((360.38, -296.70375), (357.84, -296.70375))
            ThreePointArc((357.84, -296.70375), (359.636051, -297.447699), (360.38, -299.24375))
        make_face()
        with BuildLine():
            ThreePointArc((355.3, -299.24375), (356.043949, -297.447699), (357.84, -296.70375))
            Line((357.84, -296.70375), (355.3, -296.70375))
            Line((355.3, -296.70375), (355.3, -299.24375))
        make_face()
        with BuildLine():
            Line((355.3, -301.78375), (357.84, -301.78375))
            ThreePointArc((357.84, -301.78375), (356.043949, -301.039801), (355.3, -299.24375))
            Line((355.3, -299.24375), (355.3, -301.78375))
        make_face()
        with BuildLine():
            Line((360.38, -301.78375), (360.38, -299.24375))
            ThreePointArc((360.38, -299.24375), (359.636051, -301.039801), (357.84, -301.78375))
            Line((357.84, -301.78375), (360.38, -301.78375))
        make_face()
        with BuildLine():
            Line((488.95, -296.70375), (486.41, -296.70375))
            Line((486.41, -296.70375), (486.41, -299.24375))
            ThreePointArc((486.41, -299.24375), (487.153949, -297.447699), (488.95, -296.70375))
        make_face()
        with BuildLine():
            Line((491.49, -296.70375), (488.95, -296.70375))
            ThreePointArc((488.95, -296.70375), (490.746051, -297.447699), (491.49, -299.24375))
            Line((491.49, -299.24375), (491.49, -296.70375))
        make_face()
        with BuildLine():
            ThreePointArc((491.49, -299.24375), (490.746051, -301.039801), (488.95, -301.78375))
            Line((488.95, -301.78375), (491.49, -301.78375))
            Line((491.49, -301.78375), (491.49, -299.24375))
        make_face()
        with BuildLine():
            ThreePointArc((488.95, -301.78375), (487.153949, -301.039801), (486.41, -299.24375))
            Line((486.41, -299.24375), (486.41, -301.78375))
            Line((486.41, -301.78375), (488.95, -301.78375))
        make_face()
    extrude(amount=F5_DEPTH, both=True)


solid = Compound([f1.part, f2.part, f3.part, f4.part, f5.part])
